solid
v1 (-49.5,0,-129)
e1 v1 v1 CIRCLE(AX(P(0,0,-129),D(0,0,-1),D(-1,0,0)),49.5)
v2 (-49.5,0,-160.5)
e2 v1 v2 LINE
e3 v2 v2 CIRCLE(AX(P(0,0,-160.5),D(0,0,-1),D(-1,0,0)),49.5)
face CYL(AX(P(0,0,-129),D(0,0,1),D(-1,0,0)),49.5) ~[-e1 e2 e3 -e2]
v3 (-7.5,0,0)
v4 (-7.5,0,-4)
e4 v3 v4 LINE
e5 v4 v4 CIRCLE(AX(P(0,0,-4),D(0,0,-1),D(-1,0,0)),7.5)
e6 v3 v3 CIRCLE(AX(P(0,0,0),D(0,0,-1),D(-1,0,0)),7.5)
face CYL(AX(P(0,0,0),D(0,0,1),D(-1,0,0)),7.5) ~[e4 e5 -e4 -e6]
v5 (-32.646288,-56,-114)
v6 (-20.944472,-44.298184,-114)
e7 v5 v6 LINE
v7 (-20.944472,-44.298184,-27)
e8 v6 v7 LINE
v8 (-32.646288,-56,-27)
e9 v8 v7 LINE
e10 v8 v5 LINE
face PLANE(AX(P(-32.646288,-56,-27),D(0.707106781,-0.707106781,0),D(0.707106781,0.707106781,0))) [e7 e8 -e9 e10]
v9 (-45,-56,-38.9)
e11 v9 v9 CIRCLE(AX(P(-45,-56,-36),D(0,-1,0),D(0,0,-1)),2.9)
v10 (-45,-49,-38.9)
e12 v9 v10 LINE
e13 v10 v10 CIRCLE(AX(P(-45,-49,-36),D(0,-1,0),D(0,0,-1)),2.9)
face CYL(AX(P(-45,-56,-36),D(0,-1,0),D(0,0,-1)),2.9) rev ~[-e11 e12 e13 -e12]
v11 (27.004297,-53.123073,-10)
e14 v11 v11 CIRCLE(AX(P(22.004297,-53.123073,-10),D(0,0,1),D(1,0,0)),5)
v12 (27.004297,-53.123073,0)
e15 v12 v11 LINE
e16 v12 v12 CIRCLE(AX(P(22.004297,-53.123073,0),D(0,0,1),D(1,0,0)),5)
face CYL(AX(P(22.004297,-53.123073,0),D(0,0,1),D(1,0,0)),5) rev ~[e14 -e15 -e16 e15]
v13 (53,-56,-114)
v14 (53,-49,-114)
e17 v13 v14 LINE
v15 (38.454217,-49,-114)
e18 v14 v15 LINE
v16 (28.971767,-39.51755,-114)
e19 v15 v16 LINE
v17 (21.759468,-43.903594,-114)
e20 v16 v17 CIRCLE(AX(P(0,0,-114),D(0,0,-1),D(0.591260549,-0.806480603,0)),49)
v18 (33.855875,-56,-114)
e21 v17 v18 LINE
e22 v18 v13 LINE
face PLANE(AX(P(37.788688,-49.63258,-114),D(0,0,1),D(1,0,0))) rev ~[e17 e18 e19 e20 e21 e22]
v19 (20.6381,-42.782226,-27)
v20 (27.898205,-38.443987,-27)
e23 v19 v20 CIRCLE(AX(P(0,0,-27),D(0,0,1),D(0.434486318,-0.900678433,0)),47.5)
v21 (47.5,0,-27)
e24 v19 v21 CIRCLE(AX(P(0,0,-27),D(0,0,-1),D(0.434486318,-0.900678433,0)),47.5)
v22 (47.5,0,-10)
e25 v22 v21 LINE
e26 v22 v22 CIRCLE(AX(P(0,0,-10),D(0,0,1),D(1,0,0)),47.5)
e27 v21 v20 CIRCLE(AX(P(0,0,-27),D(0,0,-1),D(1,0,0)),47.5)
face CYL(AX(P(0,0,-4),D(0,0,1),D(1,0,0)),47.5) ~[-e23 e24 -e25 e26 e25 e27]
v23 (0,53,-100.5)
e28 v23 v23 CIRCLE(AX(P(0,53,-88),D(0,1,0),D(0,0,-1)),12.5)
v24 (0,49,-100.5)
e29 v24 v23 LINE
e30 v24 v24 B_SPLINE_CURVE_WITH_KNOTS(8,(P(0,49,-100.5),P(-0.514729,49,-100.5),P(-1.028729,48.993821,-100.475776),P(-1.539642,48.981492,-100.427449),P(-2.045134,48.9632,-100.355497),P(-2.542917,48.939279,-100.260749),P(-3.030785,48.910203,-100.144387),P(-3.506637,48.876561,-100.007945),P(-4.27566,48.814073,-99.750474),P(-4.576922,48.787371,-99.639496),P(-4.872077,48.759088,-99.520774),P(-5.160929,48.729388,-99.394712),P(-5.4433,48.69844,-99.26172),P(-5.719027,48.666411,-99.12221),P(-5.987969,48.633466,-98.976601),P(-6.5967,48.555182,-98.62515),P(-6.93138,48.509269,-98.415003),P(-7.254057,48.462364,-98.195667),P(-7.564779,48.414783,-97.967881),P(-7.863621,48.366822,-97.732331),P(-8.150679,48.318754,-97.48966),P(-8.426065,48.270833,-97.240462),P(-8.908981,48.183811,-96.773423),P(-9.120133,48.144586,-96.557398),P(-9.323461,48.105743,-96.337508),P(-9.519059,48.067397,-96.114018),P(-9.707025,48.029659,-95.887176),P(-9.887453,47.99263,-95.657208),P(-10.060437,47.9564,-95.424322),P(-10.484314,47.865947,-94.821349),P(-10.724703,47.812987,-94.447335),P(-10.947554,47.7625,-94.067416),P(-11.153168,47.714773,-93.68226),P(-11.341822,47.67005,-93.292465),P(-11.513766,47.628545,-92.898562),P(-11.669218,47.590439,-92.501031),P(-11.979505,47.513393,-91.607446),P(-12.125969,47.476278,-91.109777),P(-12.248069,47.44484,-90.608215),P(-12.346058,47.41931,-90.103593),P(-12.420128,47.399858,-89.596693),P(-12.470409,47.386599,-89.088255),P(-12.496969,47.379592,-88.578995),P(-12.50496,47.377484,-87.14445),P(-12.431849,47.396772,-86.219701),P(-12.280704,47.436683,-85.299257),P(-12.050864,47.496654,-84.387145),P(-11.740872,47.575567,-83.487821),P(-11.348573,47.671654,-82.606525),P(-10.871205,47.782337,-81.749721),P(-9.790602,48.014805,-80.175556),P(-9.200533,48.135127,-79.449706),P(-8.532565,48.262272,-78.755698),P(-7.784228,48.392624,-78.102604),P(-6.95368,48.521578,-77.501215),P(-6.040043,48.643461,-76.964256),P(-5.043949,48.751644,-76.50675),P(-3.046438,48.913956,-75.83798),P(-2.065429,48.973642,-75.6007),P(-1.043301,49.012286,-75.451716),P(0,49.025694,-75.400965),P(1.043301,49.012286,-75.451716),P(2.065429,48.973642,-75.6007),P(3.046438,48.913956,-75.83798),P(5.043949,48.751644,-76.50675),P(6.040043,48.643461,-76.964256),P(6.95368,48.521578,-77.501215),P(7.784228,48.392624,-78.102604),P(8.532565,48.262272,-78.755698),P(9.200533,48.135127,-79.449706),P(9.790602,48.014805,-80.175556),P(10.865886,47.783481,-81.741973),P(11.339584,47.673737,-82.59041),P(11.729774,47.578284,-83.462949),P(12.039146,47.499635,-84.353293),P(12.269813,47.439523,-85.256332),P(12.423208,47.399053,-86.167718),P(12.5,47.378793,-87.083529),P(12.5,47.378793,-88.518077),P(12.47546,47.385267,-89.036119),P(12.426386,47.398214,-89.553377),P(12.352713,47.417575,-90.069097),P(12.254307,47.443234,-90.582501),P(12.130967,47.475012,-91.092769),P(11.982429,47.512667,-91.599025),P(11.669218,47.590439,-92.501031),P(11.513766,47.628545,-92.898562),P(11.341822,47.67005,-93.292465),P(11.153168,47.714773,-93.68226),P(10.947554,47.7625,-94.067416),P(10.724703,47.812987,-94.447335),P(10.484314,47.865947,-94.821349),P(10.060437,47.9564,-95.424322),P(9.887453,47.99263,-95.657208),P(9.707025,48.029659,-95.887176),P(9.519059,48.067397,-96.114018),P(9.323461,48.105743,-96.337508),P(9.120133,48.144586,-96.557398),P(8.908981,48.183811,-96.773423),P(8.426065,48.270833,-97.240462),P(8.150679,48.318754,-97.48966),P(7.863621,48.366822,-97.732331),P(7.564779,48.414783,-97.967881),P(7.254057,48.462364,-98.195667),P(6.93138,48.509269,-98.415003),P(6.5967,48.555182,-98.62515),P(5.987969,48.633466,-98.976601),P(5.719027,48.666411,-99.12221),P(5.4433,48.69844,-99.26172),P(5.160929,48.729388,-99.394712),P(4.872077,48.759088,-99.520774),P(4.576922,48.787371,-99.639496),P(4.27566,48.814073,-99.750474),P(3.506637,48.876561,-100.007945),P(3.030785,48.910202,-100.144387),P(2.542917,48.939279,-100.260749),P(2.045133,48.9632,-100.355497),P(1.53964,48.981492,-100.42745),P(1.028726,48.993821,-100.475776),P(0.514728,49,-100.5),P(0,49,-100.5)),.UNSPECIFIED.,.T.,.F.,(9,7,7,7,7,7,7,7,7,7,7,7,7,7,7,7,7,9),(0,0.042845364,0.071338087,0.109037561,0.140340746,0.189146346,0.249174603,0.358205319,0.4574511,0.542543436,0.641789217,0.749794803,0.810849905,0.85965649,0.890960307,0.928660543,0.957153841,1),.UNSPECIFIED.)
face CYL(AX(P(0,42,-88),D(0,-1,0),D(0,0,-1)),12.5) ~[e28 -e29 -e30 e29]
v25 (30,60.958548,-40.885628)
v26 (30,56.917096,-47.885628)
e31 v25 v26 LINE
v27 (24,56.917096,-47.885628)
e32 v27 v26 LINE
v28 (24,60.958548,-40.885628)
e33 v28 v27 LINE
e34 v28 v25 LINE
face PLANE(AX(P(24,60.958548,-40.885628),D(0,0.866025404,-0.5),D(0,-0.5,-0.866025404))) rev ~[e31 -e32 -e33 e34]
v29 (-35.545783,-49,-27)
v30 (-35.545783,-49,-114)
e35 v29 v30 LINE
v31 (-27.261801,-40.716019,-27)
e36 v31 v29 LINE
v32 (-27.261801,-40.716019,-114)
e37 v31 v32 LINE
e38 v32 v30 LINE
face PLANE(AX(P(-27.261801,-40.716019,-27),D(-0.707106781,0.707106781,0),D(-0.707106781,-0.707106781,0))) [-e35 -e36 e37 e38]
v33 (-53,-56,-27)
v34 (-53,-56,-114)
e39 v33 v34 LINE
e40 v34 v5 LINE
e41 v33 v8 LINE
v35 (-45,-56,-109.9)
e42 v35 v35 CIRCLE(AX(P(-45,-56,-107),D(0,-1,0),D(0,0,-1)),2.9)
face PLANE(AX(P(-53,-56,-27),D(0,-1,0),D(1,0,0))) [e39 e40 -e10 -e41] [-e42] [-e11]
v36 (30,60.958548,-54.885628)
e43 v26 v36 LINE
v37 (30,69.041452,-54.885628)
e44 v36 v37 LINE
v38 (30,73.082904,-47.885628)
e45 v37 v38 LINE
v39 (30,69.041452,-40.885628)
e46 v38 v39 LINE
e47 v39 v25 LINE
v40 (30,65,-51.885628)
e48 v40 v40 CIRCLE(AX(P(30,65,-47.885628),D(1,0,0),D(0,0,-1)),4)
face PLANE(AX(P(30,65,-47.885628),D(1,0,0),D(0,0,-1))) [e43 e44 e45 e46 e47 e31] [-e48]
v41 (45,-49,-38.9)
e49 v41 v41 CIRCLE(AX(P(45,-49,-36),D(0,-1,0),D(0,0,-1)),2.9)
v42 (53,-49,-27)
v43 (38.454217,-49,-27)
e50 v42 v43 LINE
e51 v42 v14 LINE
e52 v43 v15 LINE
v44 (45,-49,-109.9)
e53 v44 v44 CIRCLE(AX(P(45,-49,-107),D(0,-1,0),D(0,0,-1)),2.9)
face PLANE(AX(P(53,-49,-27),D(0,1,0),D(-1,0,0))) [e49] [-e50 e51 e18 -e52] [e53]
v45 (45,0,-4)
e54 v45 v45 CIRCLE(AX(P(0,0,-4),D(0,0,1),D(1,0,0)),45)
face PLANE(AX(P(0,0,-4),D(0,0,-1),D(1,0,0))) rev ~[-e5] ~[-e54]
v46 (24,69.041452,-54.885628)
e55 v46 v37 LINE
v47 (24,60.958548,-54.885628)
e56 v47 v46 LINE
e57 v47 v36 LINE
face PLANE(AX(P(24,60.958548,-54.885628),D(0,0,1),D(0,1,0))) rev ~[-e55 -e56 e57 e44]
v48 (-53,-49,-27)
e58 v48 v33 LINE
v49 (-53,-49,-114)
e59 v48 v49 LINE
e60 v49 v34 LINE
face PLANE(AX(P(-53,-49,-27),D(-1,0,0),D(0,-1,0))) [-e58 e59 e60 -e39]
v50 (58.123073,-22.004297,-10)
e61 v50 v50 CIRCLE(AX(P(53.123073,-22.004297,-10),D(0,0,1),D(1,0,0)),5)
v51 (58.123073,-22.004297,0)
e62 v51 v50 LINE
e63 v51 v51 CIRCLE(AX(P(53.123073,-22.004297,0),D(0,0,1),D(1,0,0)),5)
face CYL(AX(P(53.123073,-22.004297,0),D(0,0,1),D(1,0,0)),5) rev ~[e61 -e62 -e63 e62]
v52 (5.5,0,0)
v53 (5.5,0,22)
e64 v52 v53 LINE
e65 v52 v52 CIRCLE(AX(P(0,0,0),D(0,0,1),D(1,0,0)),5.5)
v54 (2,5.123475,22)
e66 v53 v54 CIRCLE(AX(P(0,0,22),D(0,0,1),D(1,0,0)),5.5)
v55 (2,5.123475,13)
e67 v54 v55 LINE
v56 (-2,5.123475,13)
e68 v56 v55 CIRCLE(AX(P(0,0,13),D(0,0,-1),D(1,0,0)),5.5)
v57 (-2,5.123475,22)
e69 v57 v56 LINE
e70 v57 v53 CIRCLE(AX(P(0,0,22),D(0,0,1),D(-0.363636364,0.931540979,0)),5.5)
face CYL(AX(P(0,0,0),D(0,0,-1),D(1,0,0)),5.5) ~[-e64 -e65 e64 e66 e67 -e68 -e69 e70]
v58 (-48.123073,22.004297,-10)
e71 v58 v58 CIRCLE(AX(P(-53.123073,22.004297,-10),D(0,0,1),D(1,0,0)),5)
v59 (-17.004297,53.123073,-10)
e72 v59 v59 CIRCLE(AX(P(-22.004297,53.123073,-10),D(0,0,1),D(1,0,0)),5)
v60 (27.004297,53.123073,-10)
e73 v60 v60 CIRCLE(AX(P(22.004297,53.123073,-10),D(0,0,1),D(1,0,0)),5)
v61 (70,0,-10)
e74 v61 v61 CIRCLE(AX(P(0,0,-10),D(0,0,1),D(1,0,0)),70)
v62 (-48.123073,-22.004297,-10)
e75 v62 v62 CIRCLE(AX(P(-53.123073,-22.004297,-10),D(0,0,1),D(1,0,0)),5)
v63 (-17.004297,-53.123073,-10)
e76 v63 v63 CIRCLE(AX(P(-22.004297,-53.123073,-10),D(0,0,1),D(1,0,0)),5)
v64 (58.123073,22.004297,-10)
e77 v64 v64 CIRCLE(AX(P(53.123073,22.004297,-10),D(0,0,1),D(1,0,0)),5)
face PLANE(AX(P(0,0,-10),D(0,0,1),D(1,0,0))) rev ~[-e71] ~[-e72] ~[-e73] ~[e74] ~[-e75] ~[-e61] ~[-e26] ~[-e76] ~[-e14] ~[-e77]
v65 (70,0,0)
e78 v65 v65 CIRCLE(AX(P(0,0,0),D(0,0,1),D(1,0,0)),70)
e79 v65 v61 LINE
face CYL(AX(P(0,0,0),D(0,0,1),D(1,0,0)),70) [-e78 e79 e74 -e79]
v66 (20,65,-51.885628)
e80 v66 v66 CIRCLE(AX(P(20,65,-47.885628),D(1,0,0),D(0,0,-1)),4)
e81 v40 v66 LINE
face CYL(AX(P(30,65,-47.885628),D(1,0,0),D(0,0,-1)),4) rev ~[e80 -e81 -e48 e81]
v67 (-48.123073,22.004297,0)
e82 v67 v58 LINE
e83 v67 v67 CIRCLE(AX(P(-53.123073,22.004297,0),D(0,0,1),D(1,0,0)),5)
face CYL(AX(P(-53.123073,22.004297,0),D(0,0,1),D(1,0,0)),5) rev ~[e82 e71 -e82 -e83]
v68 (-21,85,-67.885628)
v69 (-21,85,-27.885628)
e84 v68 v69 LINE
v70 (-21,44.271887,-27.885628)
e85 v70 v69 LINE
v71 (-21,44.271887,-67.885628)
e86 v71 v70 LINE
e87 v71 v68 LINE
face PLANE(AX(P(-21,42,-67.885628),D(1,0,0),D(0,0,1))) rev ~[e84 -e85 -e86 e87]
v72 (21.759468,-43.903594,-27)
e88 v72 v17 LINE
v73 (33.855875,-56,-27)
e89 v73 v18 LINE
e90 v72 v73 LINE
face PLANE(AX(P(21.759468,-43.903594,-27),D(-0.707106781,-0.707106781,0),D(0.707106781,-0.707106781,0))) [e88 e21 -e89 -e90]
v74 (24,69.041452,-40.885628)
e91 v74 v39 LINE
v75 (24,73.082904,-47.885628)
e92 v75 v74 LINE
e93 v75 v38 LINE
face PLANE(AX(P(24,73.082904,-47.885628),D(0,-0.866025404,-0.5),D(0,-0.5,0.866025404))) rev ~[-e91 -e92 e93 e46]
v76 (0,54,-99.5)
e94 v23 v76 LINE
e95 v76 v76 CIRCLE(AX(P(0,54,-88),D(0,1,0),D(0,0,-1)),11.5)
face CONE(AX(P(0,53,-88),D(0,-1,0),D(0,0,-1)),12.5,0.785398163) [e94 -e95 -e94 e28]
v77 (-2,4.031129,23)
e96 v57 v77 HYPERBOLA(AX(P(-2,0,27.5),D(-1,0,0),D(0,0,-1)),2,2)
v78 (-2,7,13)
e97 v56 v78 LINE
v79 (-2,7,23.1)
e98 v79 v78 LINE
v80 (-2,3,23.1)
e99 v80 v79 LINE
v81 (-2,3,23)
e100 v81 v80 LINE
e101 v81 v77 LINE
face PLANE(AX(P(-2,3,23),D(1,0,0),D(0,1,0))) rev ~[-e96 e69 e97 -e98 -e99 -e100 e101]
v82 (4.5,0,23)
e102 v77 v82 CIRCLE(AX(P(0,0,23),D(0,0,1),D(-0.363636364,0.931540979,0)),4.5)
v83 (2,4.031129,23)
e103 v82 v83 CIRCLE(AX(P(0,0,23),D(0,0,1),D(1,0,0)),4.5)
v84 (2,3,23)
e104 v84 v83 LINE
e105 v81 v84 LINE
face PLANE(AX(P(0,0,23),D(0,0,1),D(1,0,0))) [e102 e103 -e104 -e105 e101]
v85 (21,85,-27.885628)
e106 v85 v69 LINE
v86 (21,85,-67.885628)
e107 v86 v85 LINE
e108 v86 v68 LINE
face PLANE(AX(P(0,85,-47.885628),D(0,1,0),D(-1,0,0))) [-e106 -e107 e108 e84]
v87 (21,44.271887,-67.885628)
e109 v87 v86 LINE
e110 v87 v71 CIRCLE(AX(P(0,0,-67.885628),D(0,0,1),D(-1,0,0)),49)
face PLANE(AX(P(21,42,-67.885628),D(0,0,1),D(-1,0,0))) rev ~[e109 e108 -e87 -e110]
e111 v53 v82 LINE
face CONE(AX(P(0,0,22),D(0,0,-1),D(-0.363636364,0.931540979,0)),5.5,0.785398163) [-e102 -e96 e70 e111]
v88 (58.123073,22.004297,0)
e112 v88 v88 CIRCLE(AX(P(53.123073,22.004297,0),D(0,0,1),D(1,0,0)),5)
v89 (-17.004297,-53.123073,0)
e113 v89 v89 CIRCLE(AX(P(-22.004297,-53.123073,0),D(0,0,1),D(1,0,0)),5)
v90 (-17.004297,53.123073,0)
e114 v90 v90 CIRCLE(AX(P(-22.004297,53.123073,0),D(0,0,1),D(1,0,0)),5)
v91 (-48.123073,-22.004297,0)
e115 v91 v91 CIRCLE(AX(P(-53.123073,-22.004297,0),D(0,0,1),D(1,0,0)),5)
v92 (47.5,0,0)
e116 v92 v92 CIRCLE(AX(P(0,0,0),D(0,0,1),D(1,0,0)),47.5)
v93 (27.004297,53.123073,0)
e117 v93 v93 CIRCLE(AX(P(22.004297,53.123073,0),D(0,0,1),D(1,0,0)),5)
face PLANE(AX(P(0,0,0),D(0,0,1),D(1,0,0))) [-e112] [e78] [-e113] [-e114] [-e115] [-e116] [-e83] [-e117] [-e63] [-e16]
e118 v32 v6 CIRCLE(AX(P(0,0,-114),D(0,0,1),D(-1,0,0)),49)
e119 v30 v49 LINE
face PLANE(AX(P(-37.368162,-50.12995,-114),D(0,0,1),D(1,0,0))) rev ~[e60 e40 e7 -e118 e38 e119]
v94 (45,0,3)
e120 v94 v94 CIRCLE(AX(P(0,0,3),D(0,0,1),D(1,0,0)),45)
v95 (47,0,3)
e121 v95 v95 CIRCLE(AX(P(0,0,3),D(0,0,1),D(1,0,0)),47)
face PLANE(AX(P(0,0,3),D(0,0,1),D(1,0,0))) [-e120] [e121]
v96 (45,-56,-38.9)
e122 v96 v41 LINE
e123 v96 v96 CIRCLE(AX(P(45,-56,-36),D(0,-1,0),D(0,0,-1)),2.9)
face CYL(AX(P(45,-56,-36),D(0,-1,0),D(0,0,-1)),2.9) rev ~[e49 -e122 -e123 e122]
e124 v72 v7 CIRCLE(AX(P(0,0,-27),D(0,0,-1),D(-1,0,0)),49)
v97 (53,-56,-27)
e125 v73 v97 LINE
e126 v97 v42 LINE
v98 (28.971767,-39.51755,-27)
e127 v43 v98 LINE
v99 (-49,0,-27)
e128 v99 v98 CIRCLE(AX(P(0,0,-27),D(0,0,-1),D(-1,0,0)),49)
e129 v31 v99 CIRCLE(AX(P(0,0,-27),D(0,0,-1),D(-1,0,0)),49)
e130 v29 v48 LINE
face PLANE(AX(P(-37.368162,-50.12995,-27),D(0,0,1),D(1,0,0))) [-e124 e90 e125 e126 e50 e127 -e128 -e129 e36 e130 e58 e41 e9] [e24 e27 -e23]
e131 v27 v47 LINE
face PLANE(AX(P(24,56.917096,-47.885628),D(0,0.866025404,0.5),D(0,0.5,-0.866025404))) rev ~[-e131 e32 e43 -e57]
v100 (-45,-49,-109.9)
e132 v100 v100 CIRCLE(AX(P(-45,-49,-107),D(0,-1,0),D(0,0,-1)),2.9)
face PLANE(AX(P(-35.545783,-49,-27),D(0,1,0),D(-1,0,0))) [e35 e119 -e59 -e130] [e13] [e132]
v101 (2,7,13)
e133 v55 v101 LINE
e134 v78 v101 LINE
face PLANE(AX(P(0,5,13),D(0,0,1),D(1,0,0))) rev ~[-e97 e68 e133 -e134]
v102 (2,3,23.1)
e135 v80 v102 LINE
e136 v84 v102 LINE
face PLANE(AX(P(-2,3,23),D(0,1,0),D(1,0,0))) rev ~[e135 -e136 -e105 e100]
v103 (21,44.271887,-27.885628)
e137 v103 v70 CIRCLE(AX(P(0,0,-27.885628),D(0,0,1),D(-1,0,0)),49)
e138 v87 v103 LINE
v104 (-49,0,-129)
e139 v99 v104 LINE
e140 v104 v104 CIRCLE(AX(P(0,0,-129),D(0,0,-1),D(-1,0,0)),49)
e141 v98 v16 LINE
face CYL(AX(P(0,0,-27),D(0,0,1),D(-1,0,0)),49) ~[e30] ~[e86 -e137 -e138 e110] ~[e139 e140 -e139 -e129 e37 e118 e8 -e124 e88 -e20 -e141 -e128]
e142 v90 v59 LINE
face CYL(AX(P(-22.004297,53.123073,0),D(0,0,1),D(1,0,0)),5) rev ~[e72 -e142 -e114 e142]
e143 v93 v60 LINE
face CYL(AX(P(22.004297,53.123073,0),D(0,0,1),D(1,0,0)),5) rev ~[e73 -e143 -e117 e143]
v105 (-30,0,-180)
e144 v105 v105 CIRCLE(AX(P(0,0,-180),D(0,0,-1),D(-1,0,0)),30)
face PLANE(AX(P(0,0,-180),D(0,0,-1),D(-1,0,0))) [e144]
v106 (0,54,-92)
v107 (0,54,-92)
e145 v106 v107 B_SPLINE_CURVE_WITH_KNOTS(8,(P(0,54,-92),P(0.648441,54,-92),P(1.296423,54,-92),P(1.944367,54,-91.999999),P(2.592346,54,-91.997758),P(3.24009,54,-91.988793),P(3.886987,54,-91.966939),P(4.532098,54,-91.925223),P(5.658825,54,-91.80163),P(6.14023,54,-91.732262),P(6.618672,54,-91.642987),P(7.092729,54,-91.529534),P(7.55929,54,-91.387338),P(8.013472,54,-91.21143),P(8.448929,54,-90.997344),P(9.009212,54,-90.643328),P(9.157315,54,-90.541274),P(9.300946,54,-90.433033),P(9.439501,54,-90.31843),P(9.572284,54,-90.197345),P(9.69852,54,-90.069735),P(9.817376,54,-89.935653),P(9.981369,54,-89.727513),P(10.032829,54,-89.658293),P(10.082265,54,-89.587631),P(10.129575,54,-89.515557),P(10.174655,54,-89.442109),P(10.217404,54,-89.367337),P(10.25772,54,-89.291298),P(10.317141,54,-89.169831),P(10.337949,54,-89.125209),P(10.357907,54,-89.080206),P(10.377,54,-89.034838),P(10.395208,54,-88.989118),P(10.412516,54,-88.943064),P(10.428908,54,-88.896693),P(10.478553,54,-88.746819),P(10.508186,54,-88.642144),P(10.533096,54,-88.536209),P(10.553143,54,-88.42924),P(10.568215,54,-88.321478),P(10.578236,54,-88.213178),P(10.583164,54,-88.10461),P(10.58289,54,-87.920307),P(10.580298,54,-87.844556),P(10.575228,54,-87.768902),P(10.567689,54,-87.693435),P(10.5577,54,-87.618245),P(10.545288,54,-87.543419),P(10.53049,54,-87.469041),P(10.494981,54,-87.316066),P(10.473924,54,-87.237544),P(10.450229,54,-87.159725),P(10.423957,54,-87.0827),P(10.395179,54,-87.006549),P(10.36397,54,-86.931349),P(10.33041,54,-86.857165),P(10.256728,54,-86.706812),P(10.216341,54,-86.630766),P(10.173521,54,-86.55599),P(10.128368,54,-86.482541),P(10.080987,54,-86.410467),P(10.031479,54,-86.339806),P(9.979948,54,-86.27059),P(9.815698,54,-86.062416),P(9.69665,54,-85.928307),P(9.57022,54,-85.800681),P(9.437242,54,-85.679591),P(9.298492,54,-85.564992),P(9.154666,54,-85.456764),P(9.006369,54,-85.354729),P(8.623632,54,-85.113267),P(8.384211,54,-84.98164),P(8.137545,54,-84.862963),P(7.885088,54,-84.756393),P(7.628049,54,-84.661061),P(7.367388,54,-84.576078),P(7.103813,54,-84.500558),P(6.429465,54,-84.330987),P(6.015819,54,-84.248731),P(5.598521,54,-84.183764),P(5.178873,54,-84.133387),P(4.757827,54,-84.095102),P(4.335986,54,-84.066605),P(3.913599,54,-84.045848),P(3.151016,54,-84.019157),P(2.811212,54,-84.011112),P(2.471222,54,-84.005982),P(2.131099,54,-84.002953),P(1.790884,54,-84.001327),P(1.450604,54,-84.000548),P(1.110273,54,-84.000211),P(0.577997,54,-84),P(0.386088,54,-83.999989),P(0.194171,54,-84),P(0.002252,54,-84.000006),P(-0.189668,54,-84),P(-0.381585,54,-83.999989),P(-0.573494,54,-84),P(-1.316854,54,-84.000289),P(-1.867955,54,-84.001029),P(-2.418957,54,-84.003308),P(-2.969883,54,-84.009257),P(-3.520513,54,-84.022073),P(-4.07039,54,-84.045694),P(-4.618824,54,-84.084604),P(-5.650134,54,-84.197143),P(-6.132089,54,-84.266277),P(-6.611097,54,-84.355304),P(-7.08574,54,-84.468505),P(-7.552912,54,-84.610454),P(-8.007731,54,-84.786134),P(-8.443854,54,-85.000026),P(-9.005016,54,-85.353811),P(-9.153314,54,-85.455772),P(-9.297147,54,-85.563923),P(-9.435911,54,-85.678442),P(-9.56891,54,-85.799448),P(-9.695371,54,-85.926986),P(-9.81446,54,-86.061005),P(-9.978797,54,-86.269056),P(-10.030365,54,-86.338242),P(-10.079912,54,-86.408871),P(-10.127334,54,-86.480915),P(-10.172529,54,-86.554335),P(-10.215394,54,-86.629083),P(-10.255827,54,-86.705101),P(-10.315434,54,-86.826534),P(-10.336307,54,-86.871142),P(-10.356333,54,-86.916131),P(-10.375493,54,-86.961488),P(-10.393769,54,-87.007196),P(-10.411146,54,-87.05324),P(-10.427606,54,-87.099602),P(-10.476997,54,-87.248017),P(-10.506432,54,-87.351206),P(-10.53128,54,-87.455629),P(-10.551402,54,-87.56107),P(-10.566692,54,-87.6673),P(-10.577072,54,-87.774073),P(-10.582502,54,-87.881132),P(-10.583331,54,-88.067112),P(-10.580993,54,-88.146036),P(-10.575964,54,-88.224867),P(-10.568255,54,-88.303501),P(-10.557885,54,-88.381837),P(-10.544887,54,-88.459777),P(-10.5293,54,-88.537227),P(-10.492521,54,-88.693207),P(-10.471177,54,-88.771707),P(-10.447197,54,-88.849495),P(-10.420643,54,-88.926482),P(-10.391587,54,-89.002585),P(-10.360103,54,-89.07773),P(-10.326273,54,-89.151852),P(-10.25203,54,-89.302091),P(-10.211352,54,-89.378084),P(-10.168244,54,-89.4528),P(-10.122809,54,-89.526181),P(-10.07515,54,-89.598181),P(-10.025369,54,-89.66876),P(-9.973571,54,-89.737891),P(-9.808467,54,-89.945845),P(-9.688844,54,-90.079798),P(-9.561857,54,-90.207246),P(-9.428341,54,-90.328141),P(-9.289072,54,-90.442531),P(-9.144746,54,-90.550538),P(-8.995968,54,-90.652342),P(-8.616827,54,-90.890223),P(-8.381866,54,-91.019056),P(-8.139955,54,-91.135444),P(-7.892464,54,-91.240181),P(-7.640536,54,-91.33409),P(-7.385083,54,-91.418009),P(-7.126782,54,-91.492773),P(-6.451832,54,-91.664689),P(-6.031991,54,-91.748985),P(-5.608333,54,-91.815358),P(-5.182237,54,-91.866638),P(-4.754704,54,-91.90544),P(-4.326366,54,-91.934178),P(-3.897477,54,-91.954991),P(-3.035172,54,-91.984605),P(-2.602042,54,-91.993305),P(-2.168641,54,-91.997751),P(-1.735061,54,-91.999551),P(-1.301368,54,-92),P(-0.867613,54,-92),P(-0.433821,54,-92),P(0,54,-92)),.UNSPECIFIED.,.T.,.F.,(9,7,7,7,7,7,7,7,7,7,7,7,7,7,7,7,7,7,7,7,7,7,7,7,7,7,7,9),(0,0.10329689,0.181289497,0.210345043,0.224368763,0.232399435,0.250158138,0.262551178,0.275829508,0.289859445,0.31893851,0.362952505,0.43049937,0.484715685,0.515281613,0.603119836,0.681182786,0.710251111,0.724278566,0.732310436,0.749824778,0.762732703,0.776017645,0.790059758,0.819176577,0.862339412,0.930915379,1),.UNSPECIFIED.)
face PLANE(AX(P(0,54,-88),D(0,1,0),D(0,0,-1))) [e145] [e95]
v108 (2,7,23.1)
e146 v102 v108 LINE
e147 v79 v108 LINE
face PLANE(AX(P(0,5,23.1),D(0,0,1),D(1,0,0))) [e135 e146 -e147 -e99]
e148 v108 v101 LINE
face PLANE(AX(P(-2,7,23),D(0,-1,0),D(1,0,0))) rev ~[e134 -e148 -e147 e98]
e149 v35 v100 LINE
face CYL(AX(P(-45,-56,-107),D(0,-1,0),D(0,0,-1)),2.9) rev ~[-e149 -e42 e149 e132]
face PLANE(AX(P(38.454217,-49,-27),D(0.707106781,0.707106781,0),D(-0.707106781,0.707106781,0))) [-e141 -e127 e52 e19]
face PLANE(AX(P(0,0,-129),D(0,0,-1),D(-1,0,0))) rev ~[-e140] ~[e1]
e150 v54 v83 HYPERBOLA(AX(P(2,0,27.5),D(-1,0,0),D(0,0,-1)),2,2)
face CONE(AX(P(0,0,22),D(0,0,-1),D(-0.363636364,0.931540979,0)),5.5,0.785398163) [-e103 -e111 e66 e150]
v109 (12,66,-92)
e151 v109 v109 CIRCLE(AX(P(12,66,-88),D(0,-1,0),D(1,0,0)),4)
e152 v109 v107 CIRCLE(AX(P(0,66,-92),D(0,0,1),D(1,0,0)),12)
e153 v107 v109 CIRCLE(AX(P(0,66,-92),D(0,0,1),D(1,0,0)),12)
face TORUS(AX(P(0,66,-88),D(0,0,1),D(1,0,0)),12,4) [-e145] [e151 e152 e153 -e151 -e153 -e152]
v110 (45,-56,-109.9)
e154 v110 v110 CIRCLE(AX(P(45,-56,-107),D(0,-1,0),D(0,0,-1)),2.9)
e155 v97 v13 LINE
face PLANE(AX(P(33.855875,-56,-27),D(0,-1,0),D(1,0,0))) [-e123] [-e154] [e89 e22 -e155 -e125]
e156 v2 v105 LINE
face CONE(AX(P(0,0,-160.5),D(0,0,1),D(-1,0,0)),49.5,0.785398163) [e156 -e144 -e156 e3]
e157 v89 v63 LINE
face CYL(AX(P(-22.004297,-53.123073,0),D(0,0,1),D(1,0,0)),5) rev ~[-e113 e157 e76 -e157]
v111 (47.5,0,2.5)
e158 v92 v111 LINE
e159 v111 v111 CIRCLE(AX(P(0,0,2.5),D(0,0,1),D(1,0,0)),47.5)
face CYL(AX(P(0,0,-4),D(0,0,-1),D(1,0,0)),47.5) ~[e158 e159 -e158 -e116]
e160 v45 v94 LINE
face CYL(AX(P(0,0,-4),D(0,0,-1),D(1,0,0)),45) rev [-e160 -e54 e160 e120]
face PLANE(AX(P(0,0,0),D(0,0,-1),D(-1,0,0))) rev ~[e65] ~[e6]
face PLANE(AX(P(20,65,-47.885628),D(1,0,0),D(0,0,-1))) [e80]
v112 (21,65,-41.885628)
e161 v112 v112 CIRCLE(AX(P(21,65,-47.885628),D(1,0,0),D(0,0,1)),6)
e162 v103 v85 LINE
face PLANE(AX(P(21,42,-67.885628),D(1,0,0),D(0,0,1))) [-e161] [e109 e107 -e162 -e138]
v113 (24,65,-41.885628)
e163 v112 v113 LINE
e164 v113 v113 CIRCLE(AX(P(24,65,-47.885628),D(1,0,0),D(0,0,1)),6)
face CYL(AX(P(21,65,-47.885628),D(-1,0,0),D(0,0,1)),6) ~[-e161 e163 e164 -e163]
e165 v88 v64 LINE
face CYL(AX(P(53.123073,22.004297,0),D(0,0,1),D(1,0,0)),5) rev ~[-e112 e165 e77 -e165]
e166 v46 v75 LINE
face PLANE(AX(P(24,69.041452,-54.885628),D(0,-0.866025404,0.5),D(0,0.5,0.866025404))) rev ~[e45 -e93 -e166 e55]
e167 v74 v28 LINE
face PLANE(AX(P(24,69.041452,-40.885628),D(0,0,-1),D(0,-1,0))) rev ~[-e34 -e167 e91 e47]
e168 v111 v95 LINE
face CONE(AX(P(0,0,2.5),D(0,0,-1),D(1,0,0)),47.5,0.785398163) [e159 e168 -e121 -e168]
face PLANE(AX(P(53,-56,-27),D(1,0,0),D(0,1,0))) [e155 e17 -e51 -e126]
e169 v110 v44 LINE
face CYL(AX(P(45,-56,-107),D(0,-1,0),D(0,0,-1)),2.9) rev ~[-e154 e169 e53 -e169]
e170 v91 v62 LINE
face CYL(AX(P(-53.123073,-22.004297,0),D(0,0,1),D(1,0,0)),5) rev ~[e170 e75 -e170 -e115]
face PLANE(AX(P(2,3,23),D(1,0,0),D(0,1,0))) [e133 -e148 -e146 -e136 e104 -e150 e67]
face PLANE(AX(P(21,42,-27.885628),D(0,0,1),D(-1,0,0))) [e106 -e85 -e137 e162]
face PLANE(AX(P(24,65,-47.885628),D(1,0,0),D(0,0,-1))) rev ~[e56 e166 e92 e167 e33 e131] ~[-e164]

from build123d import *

# Parameters (mm, degrees)
SKETCH_1_R           = 5.5
EXTRUDE_1_DEPTH      = 23
SKETCH_2_W           = 4
SKETCH_2_H           = 4
EXTRUDE_2_DEPTH      = 0.1
EXTRUDE_2_DEPTH_BACK = 10
SKETCH_3_R           = 7.5
EXTRUDE_11_DEPTH     = 4
SKETCH_16_R          = 70
SKETCH_16_R_2        = 47.5
EXTRUDE_13_DEPTH     = 10
SKETCH_17_R          = 47.5
EXTRUDE_14_DEPTH     = 23
SKETCH_18_R          = 5
CUT_EXTRUDE_4_DEPTH  = 28
SKETCH_20_R          = 49
EXTRUDE_15_DEPTH     = 102
SKETCH_21_R          = 49.5
EXTRUDE_16_DEPTH     = 51
CHAMFER_3_SIZE       = 19.5
EXTRUDE_17_DEPTH     = 87
CUT_EXTRUDE_5_REACH  = 128
SKETCH_23_R          = 2.9
SKETCH_24_W          = 42
SKETCH_24_H          = 40
EXTRUDE_18_DEPTH     = 43
SKETCH_25_R          = 12.5
EXTRUDE_19_DEPTH     = 12
CHAMFER_4_SIZE       = 1
SKETCH_27_R          = 4
CHAMFER_5_SIZE       = 1
SKETCH_28_R          = 47.5
SKETCH_28_R_2        = 45
EXTRUDE_20_DEPTH     = 7
CHAMFER_6_SIZE       = 0.5
SKETCH_29_R          = 6
EXTRUDE_21_DEPTH     = 3
EXTRUDE_22_DEPTH     = 6
SKETCH_31_R          = 4
CUT_EXTRUDE_6_DEPTH  = 10


with BuildPart() as part:
    # Эскиз1 → Вытянуть1 (new body)
    with BuildSketch(Plane.XY):
        Circle(SKETCH_1_R)
    extrude(amount=EXTRUDE_1_DEPTH)

    # Эскиз2 → Вытянуть2 (add, two sides)
    with BuildSketch(Plane.XY.offset(23)) as extrude_2_sk:
        with Locations((0, 5)):
            Rectangle(SKETCH_2_W, SKETCH_2_H)
    extrude(amount=EXTRUDE_2_DEPTH)
    extrude(extrude_2_sk.sketch, amount=-EXTRUDE_2_DEPTH_BACK)

    # Эскиз3 → Вытянуть11 (add)
    with BuildSketch(Plane(origin=(0, 0, 0), x_dir=(-1, 0, 0), z_dir=(0, 0, -1))):
        Circle(SKETCH_3_R)
    extrude(amount=EXTRUDE_11_DEPTH)



with BuildPart() as body_2:
    # Эскиз16 → Вытянуть13 (new body)
    with BuildSketch(Plane.XY):
        Circle(SKETCH_16_R)
        Circle(SKETCH_16_R_2, mode=Mode.SUBTRACT)
    extrude(amount=-EXTRUDE_13_DEPTH)


with BuildPart() as part_1:
    add(part.part)

    add(body_2.part)  # Вытянуть14 merges body 2
    # Эскиз17 → Вытянуть14 (add)
    with BuildSketch(Plane(origin=(0, 0, -4), x_dir=(-1, 0, 0), z_dir=(0, 0, -1))):
        with Locations(Location((0, 0, 0), (0, 0, 180))):  # turned: the seam where the file's is
            Circle(SKETCH_17_R)
    extrude(amount=EXTRUDE_14_DEPTH)

    # Эскиз18 → Вырез-Вытянуть4 (cut, through all)
    with BuildSketch(Plane.XY):
        with Locations((-22.004297361, 53.123073119)):
            Circle(SKETCH_18_R)
        with Locations((22.004297361, 53.123073119)):
            Circle(SKETCH_18_R)
        with Locations((53.123073119, 22.004297361)):
            Circle(SKETCH_18_R)
        with Locations((53.123073119, -22.004297361)):
            Circle(SKETCH_18_R)
        with Locations((22.004297361, -53.123073119)):
            Circle(SKETCH_18_R)
        with Locations((-22.004297361, -53.123073119)):
            Circle(SKETCH_18_R)
        with Locations((-53.123073119, -22.004297361)):
            Circle(SKETCH_18_R)
        with Locations((-53.123073119, 22.004297361)):
            Circle(SKETCH_18_R)
    extrude(amount=-CUT_EXTRUDE_4_DEPTH, mode=Mode.SUBTRACT)

    # Эскиз20 → Вытянуть15 (add)
    with BuildSketch(Plane(origin=(0, 0, -27), x_dir=(-1, 0, 0), z_dir=(0, 0, -1))):
        Circle(SKETCH_20_R)
    extrude(amount=EXTRUDE_15_DEPTH)

    # Эскиз21 → Вытянуть16 (add)
    with BuildSketch(Plane(origin=(0, 0, -129), x_dir=(-1, 0, 0), z_dir=(0, 0, -1))):
        Circle(SKETCH_21_R)
    extrude(amount=EXTRUDE_16_DEPTH)

    # Фаска3
    chamfer_3_edges = [part_1.edges().sort_by_distance(p)[0] for p in [
        (49.5, 0, -180),
    ]]
    chamfer(chamfer_3_edges, length=CHAMFER_3_SIZE)

    # Эскиз22 → Вытянуть17 (add)
    with BuildSketch(Plane.XY.offset(-27)):
        with BuildLine():
            Line((-53, -49), (-53, -56))
            Line((-53, -56), (-44.904134404, -56))
            Line((-44.904134404, -56), (-42, -56))
            Line((-42, -56), (-32.646287703, -56))
            Line((-32.646287703, -56), (-20.944471698, -44.298183995))
            ThreePointArc((-20.944471698, -44.298183995), (-24.169591816, -42.624298603), (-27.261801405, -40.716018766))
            Line((-27.261801405, -40.716018766), (-35.54578264, -49))
            Line((-35.54578264, -49), (-53, -49))
        make_face()
        with BuildLine():
            Line((-26.179896787, -39.634114147), (-27.261801405, -40.716018766))
            ThreePointArc((-27.261801405, -40.716018766), (-24.169591816, -42.624298603), (-20.944471698, -44.298183995))
            Line((-20.944471698, -44.298183995), (-19.815619627, -43.169331924))
            ThreePointArc((-19.815619627, -43.169331924), (-23.065587435, -41.52383263), (-26.179896787, -39.634114147))
        make_face()
        with BuildLine():
            Line((-19.29701834, -32.7512357), (-26.179896787, -39.634114147))
            ThreePointArc((-26.179896787, -39.634114147), (-23.065587435, -41.52383263), (-19.815619627, -43.169331924))
            Line((-19.815619627, -43.169331924), (-14.172440123, -37.52615242))
            Line((-14.172440123, -37.52615242), (-19.29701834, -32.7512357))
        make_face()
        with BuildLine():
            ThreePointArc((28.971766908, -39.517549547), (25.460241586, -41.8661689), (21.759468274, -43.903593707))
            Line((21.759468274, -43.903593707), (33.855874567, -56))
            Line((33.855874567, -56), (42, -56))
            Line((42, -56), (43.639075317, -56))
            Line((43.639075317, -56), (53, -56))
            Line((53, -56), (53, -49))
            Line((53, -49), (38.45421736, -49))
            Line((38.45421736, -49), (28.971766908, -39.517549547))
        make_face()
        with BuildLine():
            Line((15.243541187, -37.38766662), (20.638100121, -42.782225554))
            ThreePointArc((20.638100121, -42.782225554), (24.364898956, -40.775013168), (27.89820479, -38.44398743))
            Line((27.89820479, -38.44398743), (25.07325078, -35.61903342))
            Line((25.07325078, -35.61903342), (15.243541187, -37.38766662))
        make_face()
    extrude(amount=-EXTRUDE_17_DEPTH)

    # Эскиз23 → Вырез-Вытянуть5 (cut, up to next)
    with BuildSketch(Plane.XZ.offset(56), mode=Mode.PRIVATE) as cut_extrude_5_sk1:
        with Locations(Location((45, -36, 0), (0, 0, 270))):  # turned: the seam where the file's is
            Circle(SKETCH_23_R)
    cut_extrude_5_tool1 = extrude(cut_extrude_5_sk1.sketch, amount=-CUT_EXTRUDE_5_REACH, mode=Mode.PRIVATE) & part_1.part
    add(cut_extrude_5_tool1.solids().sort_by_distance((45, -56, -36))[0], mode=Mode.SUBTRACT)
    # Эскиз23 → Вырез-Вытянуть5 (cut, up to next)
    with BuildSketch(Plane.XZ.offset(56), mode=Mode.PRIVATE) as cut_extrude_5_sk2:
        with Locations(Location((-45, -36, 0), (0, 0, 270))):  # turned: the seam where the file's is
            Circle(SKETCH_23_R)
    cut_extrude_5_tool2 = extrude(cut_extrude_5_sk2.sketch, amount=-CUT_EXTRUDE_5_REACH, mode=Mode.PRIVATE) & part_1.part
    add(cut_extrude_5_tool2.solids().sort_by_distance((-45, -56, -36))[0], mode=Mode.SUBTRACT)
    # Эскиз23 → Вырез-Вытянуть5 (cut, up to next)
    with BuildSketch(Plane.XZ.offset(56), mode=Mode.PRIVATE) as cut_extrude_5_sk3:
        with Locations(Location((45, -107, 0), (0, 0, 270))):  # turned: the seam where the file's is
            Circle(SKETCH_23_R)
    cut_extrude_5_tool3 = extrude(cut_extrude_5_sk3.sketch, amount=-CUT_EXTRUDE_5_REACH, mode=Mode.PRIVATE) & part_1.part
    add(cut_extrude_5_tool3.solids().sort_by_distance((45, -56, -107))[0], mode=Mode.SUBTRACT)
    # Эскиз23 → Вырез-Вытянуть5 (cut, up to next)
    with BuildSketch(Plane.XZ.offset(56), mode=Mode.PRIVATE) as cut_extrude_5_sk4:
        with Locations(Location((-45, -107, 0), (0, 0, 270))):  # turned: the seam where the file's is
            Circle(SKETCH_23_R)
    cut_extrude_5_tool4 = extrude(cut_extrude_5_sk4.sketch, amount=-CUT_EXTRUDE_5_REACH, mode=Mode.PRIVATE) & part_1.part
    add(cut_extrude_5_tool4.solids().sort_by_distance((-45, -56, -107))[0], mode=Mode.SUBTRACT)

    # Эскиз24 → Вытянуть18 (add)
    with BuildSketch(Plane(origin=(0, 42, 0), x_dir=(-1, 0, 0), z_dir=(0, 1, 0))):
        with Locations((0, -47.88562837)):
            Rectangle(SKETCH_24_W, SKETCH_24_H)
    extrude(amount=EXTRUDE_18_DEPTH)

    # Эскиз25 → Вытянуть19 (add)
    with BuildSketch(Plane(origin=(0, 42, 0), x_dir=(-1, 0, 0), z_dir=(0, 1, 0))):
        with Locations(Location((0, -88, 0), (0, 0, 270))):  # turned: the seam where the file's is
            Circle(SKETCH_25_R)
    extrude(amount=EXTRUDE_19_DEPTH)

    # Фаска4
    chamfer_4_edges = [part_1.edges().sort_by_distance(p)[0] for p in [
        (0, 54, -75.5),
    ]]
    chamfer(chamfer_4_edges, length=CHAMFER_4_SIZE)

    # По траектории1: sweep along a path in Эскиз26
    with BuildLine(Plane.XY.offset(-88)) as sweep_1_path:
        CenterArc((0, 66), 12, 0, 360)
    # Эскиз27 → По траектории1 (sweep)
    with BuildSketch(Plane(origin=(0, 0, 0), x_dir=(0, 0, -1), z_dir=(1, 0, 0))):
        with Locations((88, 78)):
            Circle(SKETCH_27_R)
    sweep(path=sweep_1_path.line)

    # Фаска5
    chamfer_5_edges = [part_1.edges().sort_by_distance(p)[0] for p in [
        (-3.102418411, -4.541475531, 23),
    ]]
    chamfer(chamfer_5_edges, length=CHAMFER_5_SIZE)

    # Эскиз28 → Вытянуть20 (add)
    with BuildSketch(Plane.XY.offset(-4)):
        Circle(SKETCH_28_R)
        Circle(SKETCH_28_R_2, mode=Mode.SUBTRACT)
    extrude(amount=EXTRUDE_20_DEPTH)

    # Фаска6
    chamfer_6_edges = [part_1.edges().sort_by_distance(p)[0] for p in [
        (-47.5, 0, 3),
    ]]
    chamfer(chamfer_6_edges, length=CHAMFER_6_SIZE)

    # Эскиз29 → Вытянуть21 (add)
    with BuildSketch(Plane(origin=(21, 0, 0), x_dir=(0, 0, -1), z_dir=(1, 0, 0))):
        with Locations(Location((47.88562837, 65, 0), (0, 0, 180))):  # turned: the seam where the file's is
            Circle(SKETCH_29_R)
    extrude(amount=EXTRUDE_21_DEPTH)

    # Эскиз30 → Вытянуть22 (add)
    with BuildSketch(Plane(origin=(24, 0, 0), x_dir=(0, 0, -1), z_dir=(1, 0, 0))):
        Polygon((47.88562837, 73.082903769), (40.88562837, 69.041451884), (40.88562837, 60.958548116), (47.88562837, 56.917096231), (54.88562837, 60.958548116), (54.88562837, 69.041451884), align=None)
    extrude(amount=EXTRUDE_22_DEPTH)

    # Эскиз31 → Вырез-Вытянуть6 (cut)
    with BuildSketch(Plane(origin=(30, 0, 0), x_dir=(0, 0, -1), z_dir=(1, 0, 0))):
        with Locations((47.88562837, 65)):
            Circle(SKETCH_31_R)
    extrude(amount=-CUT_EXTRUDE_6_DEPTH, mode=Mode.SUBTRACT)


solid = part_1.part
